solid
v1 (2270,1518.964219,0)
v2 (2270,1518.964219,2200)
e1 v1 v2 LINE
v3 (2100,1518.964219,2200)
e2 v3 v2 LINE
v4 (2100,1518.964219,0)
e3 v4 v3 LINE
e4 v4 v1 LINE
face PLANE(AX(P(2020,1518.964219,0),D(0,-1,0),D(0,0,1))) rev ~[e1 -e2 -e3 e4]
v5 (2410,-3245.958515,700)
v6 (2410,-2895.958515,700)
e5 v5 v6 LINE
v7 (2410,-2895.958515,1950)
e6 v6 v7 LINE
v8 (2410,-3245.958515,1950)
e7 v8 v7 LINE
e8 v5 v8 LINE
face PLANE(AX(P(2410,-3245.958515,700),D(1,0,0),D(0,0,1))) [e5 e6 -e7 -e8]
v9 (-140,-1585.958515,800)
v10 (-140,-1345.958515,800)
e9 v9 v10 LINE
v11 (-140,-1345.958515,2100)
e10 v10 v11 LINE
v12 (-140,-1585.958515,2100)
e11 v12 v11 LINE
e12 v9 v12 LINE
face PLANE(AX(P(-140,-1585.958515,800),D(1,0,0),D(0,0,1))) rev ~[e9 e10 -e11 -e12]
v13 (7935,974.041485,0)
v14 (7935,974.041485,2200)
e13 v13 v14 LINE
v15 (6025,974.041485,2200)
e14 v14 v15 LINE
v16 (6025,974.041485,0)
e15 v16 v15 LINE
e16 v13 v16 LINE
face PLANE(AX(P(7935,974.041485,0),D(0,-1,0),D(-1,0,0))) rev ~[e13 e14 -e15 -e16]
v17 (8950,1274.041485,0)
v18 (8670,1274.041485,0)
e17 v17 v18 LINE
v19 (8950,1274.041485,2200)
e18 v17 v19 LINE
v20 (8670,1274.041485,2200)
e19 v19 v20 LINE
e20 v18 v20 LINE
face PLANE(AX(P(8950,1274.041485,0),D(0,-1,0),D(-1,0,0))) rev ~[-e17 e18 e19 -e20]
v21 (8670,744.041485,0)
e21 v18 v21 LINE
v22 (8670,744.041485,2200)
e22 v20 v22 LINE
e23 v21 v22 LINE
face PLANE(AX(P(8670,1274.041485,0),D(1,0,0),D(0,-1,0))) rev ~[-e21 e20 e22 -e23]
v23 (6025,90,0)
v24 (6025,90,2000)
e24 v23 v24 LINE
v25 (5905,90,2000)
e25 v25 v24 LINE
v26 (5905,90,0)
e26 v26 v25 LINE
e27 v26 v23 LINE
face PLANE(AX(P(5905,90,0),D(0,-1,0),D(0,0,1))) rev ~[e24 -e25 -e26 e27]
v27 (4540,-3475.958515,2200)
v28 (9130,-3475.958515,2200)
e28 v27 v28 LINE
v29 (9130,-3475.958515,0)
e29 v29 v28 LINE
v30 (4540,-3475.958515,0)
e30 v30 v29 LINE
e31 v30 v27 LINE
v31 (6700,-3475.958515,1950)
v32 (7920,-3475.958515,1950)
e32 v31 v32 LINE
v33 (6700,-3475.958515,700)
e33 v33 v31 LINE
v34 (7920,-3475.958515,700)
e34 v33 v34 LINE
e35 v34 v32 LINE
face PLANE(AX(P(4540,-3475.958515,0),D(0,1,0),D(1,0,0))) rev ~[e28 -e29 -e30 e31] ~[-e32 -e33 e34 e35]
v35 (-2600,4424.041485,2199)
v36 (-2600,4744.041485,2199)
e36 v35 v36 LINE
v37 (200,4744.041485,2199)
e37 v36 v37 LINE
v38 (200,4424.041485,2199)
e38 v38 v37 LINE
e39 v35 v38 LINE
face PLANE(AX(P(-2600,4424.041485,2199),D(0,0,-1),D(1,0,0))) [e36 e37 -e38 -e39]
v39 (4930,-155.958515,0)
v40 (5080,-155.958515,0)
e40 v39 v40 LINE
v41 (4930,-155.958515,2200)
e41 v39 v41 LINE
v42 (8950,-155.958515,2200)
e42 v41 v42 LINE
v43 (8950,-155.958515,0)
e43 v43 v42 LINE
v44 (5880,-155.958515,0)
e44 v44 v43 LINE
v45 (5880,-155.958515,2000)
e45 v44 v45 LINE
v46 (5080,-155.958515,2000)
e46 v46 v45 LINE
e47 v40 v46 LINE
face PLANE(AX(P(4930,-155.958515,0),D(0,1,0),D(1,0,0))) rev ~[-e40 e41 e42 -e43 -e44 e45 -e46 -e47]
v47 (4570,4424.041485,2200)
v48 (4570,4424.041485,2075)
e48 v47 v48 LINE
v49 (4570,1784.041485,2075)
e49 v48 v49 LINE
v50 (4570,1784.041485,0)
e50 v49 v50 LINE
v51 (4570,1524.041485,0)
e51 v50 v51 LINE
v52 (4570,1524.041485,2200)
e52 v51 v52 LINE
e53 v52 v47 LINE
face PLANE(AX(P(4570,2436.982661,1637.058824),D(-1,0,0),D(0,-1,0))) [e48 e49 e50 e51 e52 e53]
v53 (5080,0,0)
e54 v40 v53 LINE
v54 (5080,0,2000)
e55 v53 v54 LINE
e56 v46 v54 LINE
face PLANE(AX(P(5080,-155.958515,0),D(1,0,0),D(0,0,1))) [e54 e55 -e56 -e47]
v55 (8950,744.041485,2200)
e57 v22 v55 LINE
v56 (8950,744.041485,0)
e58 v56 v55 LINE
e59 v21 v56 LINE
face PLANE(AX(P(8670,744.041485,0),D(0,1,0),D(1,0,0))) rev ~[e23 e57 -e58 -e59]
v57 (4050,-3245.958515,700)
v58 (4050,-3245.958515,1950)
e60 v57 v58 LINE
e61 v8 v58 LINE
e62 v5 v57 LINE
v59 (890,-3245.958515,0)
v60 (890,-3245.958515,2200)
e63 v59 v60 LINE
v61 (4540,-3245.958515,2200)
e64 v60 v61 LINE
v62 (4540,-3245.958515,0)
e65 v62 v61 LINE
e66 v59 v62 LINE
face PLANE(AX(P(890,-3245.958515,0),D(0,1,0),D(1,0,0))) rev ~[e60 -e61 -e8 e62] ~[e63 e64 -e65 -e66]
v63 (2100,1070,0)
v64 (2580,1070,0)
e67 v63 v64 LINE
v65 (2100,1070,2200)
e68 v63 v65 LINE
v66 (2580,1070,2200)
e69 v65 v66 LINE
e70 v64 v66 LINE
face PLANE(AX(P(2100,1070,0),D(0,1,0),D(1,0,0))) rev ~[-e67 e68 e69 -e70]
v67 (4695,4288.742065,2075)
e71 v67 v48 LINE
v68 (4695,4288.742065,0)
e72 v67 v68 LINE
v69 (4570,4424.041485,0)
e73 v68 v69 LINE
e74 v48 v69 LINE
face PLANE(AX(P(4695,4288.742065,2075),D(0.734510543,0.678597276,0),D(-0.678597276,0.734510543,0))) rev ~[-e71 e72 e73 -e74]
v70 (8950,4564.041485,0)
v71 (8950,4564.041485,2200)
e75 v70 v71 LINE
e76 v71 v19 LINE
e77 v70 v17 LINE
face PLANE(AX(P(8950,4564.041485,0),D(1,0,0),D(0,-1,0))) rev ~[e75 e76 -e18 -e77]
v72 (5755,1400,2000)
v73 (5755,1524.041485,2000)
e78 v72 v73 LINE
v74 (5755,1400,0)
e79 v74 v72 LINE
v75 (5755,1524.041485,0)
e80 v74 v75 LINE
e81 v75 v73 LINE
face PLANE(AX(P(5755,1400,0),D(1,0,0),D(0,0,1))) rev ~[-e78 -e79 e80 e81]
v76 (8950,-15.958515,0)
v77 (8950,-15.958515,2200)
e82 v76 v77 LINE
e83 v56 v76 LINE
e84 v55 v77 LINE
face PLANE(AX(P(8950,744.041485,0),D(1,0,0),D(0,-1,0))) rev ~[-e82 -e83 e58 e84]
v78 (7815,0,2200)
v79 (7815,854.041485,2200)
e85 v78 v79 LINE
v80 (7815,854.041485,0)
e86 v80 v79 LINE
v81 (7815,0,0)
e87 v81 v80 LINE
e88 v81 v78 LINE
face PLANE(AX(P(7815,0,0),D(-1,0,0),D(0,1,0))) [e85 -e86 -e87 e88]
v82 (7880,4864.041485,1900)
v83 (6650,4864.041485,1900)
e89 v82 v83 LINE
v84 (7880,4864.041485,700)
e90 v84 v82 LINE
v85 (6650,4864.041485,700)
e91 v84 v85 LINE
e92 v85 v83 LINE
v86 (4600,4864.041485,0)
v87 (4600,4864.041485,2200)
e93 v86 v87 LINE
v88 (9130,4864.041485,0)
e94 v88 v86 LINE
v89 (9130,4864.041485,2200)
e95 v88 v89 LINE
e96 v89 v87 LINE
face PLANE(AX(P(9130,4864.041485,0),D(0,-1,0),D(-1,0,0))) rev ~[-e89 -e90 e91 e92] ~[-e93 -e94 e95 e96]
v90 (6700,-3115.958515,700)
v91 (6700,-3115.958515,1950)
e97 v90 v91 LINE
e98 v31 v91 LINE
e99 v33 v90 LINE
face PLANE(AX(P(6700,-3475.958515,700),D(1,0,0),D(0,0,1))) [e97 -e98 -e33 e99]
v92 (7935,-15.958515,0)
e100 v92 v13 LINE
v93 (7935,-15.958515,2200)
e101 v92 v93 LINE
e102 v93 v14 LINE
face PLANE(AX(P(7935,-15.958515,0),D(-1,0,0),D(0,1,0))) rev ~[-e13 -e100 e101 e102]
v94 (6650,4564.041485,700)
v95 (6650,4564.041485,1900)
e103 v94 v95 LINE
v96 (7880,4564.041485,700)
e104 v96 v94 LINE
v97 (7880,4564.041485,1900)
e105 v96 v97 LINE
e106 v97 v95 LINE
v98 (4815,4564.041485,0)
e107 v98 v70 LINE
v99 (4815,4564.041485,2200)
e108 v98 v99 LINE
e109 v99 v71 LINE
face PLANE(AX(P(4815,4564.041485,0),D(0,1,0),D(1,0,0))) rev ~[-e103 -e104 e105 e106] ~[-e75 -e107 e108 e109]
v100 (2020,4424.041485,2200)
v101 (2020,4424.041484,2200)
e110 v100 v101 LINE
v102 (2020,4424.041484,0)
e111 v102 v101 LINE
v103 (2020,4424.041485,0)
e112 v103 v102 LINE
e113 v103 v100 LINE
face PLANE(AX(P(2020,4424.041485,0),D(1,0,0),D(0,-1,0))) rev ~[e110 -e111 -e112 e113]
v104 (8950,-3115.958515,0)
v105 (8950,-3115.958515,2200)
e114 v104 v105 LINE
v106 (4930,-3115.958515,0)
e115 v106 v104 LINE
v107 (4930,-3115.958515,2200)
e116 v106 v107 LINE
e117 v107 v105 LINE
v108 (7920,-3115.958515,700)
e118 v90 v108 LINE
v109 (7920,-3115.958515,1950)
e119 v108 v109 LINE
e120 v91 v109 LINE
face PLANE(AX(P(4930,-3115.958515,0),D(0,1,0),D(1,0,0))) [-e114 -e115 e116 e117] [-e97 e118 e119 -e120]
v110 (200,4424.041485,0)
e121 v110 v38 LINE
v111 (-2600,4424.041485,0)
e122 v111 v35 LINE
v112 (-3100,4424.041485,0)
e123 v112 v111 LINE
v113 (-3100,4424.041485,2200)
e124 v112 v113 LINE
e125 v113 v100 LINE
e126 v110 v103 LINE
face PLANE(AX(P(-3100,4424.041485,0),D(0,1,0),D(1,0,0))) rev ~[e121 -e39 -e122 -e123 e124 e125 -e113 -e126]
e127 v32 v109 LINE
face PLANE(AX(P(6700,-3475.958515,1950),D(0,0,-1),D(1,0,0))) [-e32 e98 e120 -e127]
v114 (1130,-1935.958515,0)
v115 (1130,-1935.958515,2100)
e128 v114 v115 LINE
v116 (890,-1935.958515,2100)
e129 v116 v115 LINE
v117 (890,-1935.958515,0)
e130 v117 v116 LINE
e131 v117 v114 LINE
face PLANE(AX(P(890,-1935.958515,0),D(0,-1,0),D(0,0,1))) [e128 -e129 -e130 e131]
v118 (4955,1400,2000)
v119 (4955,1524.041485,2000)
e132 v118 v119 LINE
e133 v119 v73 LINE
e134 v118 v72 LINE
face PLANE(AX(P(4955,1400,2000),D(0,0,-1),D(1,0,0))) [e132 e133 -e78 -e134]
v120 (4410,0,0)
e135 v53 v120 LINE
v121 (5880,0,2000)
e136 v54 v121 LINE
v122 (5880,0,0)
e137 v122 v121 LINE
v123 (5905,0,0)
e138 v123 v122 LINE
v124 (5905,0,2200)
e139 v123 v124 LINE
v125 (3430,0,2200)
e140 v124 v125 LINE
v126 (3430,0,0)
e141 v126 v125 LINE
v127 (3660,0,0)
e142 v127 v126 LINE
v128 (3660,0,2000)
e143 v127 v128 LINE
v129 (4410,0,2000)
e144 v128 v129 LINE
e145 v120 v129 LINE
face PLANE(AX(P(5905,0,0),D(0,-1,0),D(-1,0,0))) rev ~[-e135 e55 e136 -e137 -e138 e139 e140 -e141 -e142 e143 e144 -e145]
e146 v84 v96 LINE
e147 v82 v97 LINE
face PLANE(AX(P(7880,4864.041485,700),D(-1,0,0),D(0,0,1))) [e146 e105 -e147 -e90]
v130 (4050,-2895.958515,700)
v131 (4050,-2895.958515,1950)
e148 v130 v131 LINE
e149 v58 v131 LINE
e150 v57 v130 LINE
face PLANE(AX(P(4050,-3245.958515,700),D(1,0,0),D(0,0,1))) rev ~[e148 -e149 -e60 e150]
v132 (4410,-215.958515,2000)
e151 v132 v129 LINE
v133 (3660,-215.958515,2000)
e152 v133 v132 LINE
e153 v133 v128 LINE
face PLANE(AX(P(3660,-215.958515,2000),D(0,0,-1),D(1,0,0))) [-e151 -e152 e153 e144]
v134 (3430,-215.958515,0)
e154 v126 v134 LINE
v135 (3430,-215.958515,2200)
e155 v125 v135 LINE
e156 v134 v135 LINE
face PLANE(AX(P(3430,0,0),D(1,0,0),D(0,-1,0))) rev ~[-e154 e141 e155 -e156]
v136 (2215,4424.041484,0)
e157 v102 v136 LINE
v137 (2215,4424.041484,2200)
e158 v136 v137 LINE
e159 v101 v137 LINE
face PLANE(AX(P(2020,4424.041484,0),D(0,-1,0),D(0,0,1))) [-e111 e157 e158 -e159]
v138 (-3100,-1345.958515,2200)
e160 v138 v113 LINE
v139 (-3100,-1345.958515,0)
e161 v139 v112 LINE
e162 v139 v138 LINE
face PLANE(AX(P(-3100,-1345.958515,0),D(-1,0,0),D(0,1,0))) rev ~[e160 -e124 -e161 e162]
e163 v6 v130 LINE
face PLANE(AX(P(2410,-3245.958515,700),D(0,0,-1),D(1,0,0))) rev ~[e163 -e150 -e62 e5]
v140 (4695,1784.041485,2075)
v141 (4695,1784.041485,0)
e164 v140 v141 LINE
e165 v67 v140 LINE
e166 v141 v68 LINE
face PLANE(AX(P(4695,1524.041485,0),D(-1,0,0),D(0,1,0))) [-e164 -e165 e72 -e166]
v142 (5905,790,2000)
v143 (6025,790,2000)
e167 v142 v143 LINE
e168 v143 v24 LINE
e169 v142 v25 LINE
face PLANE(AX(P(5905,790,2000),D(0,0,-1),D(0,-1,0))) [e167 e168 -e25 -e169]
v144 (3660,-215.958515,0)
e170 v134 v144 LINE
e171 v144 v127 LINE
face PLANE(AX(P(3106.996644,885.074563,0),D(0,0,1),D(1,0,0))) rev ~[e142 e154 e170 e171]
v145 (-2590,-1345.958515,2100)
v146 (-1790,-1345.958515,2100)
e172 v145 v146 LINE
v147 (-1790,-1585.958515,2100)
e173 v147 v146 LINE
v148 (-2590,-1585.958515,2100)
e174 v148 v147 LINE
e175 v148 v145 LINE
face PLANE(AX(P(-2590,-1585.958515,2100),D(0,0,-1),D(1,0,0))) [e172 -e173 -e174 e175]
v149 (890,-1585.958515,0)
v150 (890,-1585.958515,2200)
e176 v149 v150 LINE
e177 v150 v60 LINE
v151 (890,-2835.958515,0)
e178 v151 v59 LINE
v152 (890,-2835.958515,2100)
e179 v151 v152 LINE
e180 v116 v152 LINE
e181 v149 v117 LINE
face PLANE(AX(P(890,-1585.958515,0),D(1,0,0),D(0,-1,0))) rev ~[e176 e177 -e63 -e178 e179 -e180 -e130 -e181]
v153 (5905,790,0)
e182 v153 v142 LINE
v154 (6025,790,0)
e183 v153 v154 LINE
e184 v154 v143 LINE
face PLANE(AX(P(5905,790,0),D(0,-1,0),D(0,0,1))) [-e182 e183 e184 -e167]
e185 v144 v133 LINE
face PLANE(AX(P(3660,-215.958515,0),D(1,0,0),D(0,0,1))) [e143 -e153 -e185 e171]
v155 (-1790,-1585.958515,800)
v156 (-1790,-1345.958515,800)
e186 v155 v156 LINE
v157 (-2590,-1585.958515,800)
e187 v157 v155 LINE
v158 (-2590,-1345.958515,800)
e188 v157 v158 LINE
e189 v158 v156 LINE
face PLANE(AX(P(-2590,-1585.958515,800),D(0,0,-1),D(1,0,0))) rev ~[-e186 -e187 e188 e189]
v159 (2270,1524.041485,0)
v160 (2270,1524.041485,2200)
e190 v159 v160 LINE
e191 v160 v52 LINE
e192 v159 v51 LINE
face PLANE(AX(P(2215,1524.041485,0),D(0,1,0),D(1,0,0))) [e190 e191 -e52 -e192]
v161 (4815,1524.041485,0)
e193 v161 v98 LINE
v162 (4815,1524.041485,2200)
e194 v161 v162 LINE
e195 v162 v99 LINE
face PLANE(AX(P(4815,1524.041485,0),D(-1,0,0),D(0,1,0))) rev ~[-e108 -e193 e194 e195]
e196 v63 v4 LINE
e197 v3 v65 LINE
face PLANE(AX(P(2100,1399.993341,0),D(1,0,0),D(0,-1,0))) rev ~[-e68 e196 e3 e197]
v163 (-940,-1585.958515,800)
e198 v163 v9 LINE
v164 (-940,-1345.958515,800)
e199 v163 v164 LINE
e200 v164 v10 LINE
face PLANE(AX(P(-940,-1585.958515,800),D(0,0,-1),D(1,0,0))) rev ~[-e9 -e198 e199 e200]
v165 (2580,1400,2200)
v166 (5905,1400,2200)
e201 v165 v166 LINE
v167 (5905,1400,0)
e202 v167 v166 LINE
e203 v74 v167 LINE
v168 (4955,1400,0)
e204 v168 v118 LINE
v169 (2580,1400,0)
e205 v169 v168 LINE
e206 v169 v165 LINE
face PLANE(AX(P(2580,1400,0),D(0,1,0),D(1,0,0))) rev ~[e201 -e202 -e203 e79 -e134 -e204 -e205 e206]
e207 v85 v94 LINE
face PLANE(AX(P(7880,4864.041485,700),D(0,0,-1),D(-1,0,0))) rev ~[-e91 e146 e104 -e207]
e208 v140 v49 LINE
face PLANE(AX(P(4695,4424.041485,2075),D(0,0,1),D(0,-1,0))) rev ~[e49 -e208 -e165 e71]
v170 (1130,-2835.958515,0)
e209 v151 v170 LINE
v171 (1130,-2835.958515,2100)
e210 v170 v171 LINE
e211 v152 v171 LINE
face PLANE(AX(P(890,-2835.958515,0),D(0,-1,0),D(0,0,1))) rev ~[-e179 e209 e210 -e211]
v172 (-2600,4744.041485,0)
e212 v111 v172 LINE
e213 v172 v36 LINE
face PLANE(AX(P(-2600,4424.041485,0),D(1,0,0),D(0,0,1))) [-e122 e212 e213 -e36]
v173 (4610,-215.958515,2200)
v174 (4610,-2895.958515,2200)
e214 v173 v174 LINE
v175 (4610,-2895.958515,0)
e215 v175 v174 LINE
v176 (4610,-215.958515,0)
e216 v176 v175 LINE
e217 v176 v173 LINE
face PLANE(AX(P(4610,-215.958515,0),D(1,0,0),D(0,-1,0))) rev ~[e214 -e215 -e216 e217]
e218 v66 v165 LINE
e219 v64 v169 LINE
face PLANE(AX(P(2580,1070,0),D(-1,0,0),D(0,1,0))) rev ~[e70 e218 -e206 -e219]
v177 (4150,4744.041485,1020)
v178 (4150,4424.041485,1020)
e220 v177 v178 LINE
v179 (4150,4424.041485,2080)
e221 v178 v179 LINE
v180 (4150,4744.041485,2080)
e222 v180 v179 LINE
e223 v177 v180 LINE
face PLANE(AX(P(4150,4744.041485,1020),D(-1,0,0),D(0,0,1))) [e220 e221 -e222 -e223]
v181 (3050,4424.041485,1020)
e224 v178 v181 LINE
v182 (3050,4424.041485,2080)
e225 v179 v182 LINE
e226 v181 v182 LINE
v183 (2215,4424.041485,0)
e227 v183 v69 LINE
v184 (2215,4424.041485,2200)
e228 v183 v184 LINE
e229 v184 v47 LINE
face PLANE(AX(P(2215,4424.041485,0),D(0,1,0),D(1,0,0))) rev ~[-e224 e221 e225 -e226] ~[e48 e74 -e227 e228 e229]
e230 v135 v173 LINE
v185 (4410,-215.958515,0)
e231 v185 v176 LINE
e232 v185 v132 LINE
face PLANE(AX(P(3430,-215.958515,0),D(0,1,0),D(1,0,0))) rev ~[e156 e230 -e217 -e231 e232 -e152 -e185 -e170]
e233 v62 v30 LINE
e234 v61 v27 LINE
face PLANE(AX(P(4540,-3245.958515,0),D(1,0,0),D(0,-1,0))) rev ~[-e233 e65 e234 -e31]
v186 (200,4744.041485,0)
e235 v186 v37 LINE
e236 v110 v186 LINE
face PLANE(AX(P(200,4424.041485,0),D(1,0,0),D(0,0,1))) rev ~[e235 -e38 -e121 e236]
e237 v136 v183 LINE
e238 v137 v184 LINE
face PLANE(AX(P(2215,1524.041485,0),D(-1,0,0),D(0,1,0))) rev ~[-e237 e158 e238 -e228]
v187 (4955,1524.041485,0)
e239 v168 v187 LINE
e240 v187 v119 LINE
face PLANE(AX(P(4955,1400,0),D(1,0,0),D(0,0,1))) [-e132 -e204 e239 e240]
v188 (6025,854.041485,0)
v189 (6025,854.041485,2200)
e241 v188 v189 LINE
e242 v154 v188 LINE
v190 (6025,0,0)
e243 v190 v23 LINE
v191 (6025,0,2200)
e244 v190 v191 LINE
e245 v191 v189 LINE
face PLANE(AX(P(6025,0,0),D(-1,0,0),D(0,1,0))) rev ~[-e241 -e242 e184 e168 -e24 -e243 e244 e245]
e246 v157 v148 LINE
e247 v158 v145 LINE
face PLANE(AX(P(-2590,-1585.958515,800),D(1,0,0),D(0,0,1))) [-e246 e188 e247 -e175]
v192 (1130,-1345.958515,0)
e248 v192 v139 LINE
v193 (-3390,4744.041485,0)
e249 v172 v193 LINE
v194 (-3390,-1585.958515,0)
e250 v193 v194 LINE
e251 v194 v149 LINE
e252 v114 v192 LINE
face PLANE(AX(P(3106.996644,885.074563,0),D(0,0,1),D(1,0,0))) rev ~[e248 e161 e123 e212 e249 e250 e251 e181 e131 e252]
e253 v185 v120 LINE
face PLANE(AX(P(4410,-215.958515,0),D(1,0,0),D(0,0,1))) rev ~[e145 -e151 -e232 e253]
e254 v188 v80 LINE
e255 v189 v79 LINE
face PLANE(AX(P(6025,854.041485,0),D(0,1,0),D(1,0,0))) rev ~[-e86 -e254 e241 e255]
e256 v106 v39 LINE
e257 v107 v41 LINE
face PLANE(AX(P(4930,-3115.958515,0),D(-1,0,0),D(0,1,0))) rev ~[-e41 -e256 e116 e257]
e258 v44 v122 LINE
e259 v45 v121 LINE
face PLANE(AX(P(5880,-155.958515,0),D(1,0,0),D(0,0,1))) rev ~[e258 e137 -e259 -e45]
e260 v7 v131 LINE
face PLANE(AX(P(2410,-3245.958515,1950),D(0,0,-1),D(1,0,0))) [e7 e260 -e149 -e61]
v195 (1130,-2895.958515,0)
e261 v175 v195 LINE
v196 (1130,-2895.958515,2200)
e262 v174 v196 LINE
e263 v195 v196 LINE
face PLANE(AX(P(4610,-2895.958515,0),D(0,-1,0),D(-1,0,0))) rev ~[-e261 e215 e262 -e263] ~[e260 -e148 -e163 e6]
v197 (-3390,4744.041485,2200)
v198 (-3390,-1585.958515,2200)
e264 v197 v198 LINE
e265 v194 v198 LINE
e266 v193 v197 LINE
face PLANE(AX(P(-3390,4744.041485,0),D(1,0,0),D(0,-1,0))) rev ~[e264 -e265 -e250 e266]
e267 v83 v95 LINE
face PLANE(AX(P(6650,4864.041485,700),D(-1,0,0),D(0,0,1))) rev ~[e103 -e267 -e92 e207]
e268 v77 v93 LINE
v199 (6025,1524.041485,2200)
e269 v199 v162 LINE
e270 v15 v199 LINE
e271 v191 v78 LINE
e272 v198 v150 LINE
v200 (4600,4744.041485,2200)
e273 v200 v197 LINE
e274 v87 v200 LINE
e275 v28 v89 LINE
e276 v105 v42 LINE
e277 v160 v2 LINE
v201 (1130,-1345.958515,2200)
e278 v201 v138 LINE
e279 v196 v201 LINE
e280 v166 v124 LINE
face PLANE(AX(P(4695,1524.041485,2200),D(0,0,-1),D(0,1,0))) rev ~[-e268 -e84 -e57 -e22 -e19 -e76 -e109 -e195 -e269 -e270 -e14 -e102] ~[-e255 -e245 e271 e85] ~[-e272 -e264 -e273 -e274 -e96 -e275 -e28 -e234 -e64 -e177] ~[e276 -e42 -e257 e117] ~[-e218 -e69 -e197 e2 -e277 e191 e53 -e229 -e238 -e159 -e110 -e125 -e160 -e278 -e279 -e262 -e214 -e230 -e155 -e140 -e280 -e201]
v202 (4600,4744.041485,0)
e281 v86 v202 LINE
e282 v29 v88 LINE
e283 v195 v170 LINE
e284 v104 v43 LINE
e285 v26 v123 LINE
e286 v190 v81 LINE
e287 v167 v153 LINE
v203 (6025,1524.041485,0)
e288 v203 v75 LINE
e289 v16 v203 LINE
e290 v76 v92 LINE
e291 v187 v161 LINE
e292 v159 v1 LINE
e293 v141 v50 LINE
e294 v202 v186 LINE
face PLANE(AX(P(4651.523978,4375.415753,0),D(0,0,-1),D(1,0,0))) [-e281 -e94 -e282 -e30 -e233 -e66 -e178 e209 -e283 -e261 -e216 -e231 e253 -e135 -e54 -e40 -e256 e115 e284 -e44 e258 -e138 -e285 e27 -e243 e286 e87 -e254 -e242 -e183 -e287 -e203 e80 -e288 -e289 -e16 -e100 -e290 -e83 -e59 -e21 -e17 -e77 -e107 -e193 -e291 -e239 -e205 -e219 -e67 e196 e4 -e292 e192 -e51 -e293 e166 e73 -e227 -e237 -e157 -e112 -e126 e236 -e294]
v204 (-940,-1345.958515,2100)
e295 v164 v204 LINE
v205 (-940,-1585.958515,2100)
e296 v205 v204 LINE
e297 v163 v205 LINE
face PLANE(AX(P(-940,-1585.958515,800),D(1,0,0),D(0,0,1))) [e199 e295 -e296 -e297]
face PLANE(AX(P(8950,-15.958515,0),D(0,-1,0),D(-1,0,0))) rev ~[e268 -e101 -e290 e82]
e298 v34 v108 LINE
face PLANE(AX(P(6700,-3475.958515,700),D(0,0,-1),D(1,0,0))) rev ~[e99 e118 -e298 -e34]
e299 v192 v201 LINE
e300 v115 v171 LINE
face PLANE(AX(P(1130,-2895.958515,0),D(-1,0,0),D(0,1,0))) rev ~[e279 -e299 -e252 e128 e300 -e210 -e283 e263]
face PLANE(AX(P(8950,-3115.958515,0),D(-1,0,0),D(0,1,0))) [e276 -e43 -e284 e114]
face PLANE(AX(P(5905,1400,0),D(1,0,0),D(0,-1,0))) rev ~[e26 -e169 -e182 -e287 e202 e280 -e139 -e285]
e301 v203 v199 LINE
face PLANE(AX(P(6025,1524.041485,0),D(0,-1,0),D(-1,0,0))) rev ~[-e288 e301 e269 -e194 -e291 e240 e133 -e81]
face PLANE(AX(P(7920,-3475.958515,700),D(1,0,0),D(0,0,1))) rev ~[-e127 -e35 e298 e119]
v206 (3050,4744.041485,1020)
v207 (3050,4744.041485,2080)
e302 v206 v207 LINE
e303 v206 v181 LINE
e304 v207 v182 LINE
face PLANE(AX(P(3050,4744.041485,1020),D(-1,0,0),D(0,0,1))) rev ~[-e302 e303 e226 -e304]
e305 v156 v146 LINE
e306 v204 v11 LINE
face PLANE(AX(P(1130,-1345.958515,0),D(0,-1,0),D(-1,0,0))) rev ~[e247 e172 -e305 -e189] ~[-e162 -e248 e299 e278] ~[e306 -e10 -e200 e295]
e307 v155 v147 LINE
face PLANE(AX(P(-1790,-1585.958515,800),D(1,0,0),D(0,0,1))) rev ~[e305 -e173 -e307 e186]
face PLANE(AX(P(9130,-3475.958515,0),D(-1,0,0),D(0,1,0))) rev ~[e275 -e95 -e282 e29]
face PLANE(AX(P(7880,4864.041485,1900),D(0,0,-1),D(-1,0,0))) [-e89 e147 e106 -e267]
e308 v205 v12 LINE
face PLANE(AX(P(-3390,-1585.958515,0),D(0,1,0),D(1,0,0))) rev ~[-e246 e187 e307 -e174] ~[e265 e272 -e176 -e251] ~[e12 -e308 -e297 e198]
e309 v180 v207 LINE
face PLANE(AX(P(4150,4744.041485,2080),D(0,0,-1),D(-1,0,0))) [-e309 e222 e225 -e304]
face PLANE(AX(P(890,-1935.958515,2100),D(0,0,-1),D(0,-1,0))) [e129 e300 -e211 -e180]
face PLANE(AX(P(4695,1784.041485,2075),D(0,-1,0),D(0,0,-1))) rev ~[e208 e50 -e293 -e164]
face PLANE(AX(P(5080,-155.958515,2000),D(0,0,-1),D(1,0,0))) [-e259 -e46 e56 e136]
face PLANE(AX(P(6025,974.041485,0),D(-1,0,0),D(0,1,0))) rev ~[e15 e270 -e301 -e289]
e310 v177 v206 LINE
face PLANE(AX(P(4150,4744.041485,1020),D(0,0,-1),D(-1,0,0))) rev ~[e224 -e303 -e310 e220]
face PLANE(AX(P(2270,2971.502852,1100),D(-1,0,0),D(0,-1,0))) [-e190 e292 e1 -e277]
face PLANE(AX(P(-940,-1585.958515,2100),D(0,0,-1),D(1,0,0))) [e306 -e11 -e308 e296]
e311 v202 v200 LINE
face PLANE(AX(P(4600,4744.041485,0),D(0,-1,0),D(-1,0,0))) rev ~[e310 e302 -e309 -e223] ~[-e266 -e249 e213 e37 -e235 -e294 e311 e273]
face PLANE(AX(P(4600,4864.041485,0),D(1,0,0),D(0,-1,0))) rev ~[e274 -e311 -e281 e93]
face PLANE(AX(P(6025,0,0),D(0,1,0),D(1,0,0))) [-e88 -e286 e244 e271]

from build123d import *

# Parameters (mm, degrees)
F0_W      = 4020
F0_H      = 2960
F0_W_2    = 1790
F0_H_2    = 854.041485
F0_W_3    = 2480
F0_H_3    = 2900
F1_DEPTH  = 2200
F2_W      = 2800
F2_H      = 2199
F3_DEPTH  = 350
F4_W      = 2905.077265
F4_H      = 2200
F5_DEPTH  = 250
F6_W      = 990
F6_H      = 2200
F7_DEPTH  = 130
F8_W      = 750
F8_H      = 2000
F9_DEPTH  = 250
F10_W     = 800
F10_H     = 2000
F11_DEPTH = 200
F12_W     = 800
F12_H     = 2000
F13_DEPTH = 200
F14_W     = 800
F14_H     = 1300
F15_DEPTH = 240
F16_W     = 1640
F16_H     = 1250
F17_DEPTH = 350
F18_W     = 1220
F18_H     = 1250
F19_DEPTH = 360
F20_W     = 1230
F20_H     = 1200
F21_DEPTH = 300
F22_W     = 1100
F22_H     = 1060
F23_DEPTH = 320
F24_W     = 900
F24_H     = 2100
F25_DEPTH = 240
F26_W     = 700
F26_H     = 2000
F27_DEPTH = 120
F29_DEPTH = 125
F31_DEPTH = 2075


with BuildPart() as f1:
    # F0 (on Top) → F1 (new body)
    with BuildSketch(Plane.XY):
        Polygon((-3390, -1585.958515), (890, -1585.958515), (890, -3245.958515), (4540, -3245.958515), (4540, -3475.958515), (9130, -3475.958515), (9130, 4864.041485), (4600, 4864.041485), (4600, 4744.041485), (-3390, 4744.041485), align=None)
        with Locations((6940, -1635.958515)):
            Rectangle(F0_W, F0_H, mode=Mode.SUBTRACT)
        with Locations((6920, 427.020742)):
            Rectangle(F0_W_2, F0_H_2, mode=Mode.SUBTRACT)
        Polygon((4610, -215.958515), (4610, -2895.958515), (1130, -2895.958515), (1130, -1345.958515), (-3100, -1345.958515), (-3100, 4424.041485), (2020, 4424.041485), (2020, 1518.96422), (1110, 1518.96422), (1110, 1399.993341), (2100, 1399.993341), (2100, 1070), (2580, 1070), (2580, 1400), (5905, 1400), (5905, 0), (3430, 0), (3430, -215.958515), align=None, mode=Mode.SUBTRACT)
        Polygon((4815, 1524.041485), (4815, 4564.041485), (8950, 4564.041485), (8950, 1274.041485), (8670, 1274.041485), (8670, 744.041485), (8950, 744.041485), (8950, -15.958515), (7935, -15.958515), (7935, 974.041485), (6025, 974.041485), (6025, 1524.041485), align=None, mode=Mode.SUBTRACT)
        with Locations((3455, 2974.041485)):
            Rectangle(F0_W_3, F0_H_3, mode=Mode.SUBTRACT)
    extrude(amount=F1_DEPTH)

    # F2 (on face) → F3 (cut)
    with BuildSketch(Plane.XZ.offset(-4424.041485)):
        with Locations((-1200, 1099.5)):
            Rectangle(F2_W, F2_H)
    extrude(amount=-F3_DEPTH, mode=Mode.SUBTRACT)

    # F4 (on face) → F5 (cut)
    with BuildSketch(Plane(origin=(2020, 0, 0), x_dir=(0, -1, 0), z_dir=(-1, 0, 0))):
        with Locations((-2971.502852, 1100)):
            Rectangle(F4_W, F4_H)
    extrude(amount=-F5_DEPTH, mode=Mode.SUBTRACT)

    # F6 (on face) → F7 (cut)
    with BuildSketch(Plane.XZ.offset(-1399.993341)):
        with Locations((1605, 1100)):
            Rectangle(F6_W, F6_H)
    extrude(amount=-F7_DEPTH, mode=Mode.SUBTRACT)

    # F8 (on face) → F9 (cut)
    with BuildSketch(Plane.XZ.offset(215.958515)):
        with Locations((4035, 1000)):
            Rectangle(F8_W, F8_H)
    extrude(amount=-F9_DEPTH, mode=Mode.SUBTRACT)

    # F10 (on face) → F11 (cut)
    with BuildSketch(Plane.XZ.offset(-1400)):
        with Locations((5355, 1000)):
            Rectangle(F10_W, F10_H)
    extrude(amount=-F11_DEPTH, mode=Mode.SUBTRACT)

    # F12 (on face) → F13 (cut)
    with BuildSketch(Plane.XZ.offset(155.958515)):
        with Locations((5480, 1000)):
            Rectangle(F12_W, F12_H)
    extrude(amount=-F13_DEPTH, mode=Mode.SUBTRACT)

    # F14 (on face) → F15 (cut, through all)
    with BuildSketch(Plane.XZ.offset(1585.958515)):
        with Locations((-2190, 1450)):
            Rectangle(F14_W, F14_H)
        with Locations((-540, 1450)):
            Rectangle(F14_W, F14_H)
    extrude(amount=-F15_DEPTH, mode=Mode.SUBTRACT)

    # F16 (on face) → F17 (cut, through all)
    with BuildSketch(Plane.XZ.offset(3245.958515)):
        with Locations((3230, 1325)):
            Rectangle(F16_W, F16_H)
    extrude(amount=-F17_DEPTH, mode=Mode.SUBTRACT)

    # F18 (on face) → F19 (cut, through all)
    with BuildSketch(Plane.XZ.offset(3475.958515)):
        with Locations((7310, 1325)):
            Rectangle(F18_W, F18_H)
    extrude(amount=-F19_DEPTH, mode=Mode.SUBTRACT)

    # F20 (on face) → F21 (cut, through all)
    with BuildSketch(Plane(origin=(0, 4864.041485, 0), x_dir=(-1, 0, 0), z_dir=(0, 1, 0))):
        with Locations((-7265, 1300)):
            Rectangle(F20_W, F20_H)
    extrude(amount=-F21_DEPTH, mode=Mode.SUBTRACT)

    # F22 (on face) → F23 (cut, through all)
    with BuildSketch(Plane(origin=(0, 4744.041485, 0), x_dir=(-1, 0, 0), z_dir=(0, 1, 0))):
        with Locations((-3600, 1550)):
            Rectangle(F22_W, F22_H)
    extrude(amount=-F23_DEPTH, mode=Mode.SUBTRACT)

    # F24 (on face) → F25 (cut, through all)
    with BuildSketch(Plane(origin=(890, 0, 0), x_dir=(0, -1, 0), z_dir=(-1, 0, 0))):
        with Locations((2385.958515, 1050)):
            Rectangle(F24_W, F24_H)
    extrude(amount=-F25_DEPTH, mode=Mode.SUBTRACT)

    # F26 (on face) → F27 (cut, through all)
    with BuildSketch(Plane(origin=(5905, 0, 0), x_dir=(0, -1, 0), z_dir=(-1, 0, 0))):
        with Locations((-440, 1000)):
            Rectangle(F26_W, F26_H)
    extrude(amount=-F27_DEPTH, mode=Mode.SUBTRACT)

    # F28 (on face) → F29 (join)
    with BuildSketch(Plane(origin=(4695, 0, 0), x_dir=(0, -1, 0), z_dir=(-1, 0, 0))):
        Polygon((-1784.041485, 2075), (-1784.041485, 0), (-1524.041485, 0), (-1524.041485, 2200), (-4424.041485, 2200), (-4424.041485, 2075), align=None)
    extrude(amount=F29_DEPTH)

    # F30 (on face) → F31 (join)
    with BuildSketch(Plane(origin=(0, 0, 2075), x_dir=(1, 0, 0), z_dir=(0, 0, -1))):
        Polygon((4695, -4288.742065), (4570, -4424.041485), (4695, -4424.041485), align=None)
    extrude(amount=F31_DEPTH)


solid = f1.part
